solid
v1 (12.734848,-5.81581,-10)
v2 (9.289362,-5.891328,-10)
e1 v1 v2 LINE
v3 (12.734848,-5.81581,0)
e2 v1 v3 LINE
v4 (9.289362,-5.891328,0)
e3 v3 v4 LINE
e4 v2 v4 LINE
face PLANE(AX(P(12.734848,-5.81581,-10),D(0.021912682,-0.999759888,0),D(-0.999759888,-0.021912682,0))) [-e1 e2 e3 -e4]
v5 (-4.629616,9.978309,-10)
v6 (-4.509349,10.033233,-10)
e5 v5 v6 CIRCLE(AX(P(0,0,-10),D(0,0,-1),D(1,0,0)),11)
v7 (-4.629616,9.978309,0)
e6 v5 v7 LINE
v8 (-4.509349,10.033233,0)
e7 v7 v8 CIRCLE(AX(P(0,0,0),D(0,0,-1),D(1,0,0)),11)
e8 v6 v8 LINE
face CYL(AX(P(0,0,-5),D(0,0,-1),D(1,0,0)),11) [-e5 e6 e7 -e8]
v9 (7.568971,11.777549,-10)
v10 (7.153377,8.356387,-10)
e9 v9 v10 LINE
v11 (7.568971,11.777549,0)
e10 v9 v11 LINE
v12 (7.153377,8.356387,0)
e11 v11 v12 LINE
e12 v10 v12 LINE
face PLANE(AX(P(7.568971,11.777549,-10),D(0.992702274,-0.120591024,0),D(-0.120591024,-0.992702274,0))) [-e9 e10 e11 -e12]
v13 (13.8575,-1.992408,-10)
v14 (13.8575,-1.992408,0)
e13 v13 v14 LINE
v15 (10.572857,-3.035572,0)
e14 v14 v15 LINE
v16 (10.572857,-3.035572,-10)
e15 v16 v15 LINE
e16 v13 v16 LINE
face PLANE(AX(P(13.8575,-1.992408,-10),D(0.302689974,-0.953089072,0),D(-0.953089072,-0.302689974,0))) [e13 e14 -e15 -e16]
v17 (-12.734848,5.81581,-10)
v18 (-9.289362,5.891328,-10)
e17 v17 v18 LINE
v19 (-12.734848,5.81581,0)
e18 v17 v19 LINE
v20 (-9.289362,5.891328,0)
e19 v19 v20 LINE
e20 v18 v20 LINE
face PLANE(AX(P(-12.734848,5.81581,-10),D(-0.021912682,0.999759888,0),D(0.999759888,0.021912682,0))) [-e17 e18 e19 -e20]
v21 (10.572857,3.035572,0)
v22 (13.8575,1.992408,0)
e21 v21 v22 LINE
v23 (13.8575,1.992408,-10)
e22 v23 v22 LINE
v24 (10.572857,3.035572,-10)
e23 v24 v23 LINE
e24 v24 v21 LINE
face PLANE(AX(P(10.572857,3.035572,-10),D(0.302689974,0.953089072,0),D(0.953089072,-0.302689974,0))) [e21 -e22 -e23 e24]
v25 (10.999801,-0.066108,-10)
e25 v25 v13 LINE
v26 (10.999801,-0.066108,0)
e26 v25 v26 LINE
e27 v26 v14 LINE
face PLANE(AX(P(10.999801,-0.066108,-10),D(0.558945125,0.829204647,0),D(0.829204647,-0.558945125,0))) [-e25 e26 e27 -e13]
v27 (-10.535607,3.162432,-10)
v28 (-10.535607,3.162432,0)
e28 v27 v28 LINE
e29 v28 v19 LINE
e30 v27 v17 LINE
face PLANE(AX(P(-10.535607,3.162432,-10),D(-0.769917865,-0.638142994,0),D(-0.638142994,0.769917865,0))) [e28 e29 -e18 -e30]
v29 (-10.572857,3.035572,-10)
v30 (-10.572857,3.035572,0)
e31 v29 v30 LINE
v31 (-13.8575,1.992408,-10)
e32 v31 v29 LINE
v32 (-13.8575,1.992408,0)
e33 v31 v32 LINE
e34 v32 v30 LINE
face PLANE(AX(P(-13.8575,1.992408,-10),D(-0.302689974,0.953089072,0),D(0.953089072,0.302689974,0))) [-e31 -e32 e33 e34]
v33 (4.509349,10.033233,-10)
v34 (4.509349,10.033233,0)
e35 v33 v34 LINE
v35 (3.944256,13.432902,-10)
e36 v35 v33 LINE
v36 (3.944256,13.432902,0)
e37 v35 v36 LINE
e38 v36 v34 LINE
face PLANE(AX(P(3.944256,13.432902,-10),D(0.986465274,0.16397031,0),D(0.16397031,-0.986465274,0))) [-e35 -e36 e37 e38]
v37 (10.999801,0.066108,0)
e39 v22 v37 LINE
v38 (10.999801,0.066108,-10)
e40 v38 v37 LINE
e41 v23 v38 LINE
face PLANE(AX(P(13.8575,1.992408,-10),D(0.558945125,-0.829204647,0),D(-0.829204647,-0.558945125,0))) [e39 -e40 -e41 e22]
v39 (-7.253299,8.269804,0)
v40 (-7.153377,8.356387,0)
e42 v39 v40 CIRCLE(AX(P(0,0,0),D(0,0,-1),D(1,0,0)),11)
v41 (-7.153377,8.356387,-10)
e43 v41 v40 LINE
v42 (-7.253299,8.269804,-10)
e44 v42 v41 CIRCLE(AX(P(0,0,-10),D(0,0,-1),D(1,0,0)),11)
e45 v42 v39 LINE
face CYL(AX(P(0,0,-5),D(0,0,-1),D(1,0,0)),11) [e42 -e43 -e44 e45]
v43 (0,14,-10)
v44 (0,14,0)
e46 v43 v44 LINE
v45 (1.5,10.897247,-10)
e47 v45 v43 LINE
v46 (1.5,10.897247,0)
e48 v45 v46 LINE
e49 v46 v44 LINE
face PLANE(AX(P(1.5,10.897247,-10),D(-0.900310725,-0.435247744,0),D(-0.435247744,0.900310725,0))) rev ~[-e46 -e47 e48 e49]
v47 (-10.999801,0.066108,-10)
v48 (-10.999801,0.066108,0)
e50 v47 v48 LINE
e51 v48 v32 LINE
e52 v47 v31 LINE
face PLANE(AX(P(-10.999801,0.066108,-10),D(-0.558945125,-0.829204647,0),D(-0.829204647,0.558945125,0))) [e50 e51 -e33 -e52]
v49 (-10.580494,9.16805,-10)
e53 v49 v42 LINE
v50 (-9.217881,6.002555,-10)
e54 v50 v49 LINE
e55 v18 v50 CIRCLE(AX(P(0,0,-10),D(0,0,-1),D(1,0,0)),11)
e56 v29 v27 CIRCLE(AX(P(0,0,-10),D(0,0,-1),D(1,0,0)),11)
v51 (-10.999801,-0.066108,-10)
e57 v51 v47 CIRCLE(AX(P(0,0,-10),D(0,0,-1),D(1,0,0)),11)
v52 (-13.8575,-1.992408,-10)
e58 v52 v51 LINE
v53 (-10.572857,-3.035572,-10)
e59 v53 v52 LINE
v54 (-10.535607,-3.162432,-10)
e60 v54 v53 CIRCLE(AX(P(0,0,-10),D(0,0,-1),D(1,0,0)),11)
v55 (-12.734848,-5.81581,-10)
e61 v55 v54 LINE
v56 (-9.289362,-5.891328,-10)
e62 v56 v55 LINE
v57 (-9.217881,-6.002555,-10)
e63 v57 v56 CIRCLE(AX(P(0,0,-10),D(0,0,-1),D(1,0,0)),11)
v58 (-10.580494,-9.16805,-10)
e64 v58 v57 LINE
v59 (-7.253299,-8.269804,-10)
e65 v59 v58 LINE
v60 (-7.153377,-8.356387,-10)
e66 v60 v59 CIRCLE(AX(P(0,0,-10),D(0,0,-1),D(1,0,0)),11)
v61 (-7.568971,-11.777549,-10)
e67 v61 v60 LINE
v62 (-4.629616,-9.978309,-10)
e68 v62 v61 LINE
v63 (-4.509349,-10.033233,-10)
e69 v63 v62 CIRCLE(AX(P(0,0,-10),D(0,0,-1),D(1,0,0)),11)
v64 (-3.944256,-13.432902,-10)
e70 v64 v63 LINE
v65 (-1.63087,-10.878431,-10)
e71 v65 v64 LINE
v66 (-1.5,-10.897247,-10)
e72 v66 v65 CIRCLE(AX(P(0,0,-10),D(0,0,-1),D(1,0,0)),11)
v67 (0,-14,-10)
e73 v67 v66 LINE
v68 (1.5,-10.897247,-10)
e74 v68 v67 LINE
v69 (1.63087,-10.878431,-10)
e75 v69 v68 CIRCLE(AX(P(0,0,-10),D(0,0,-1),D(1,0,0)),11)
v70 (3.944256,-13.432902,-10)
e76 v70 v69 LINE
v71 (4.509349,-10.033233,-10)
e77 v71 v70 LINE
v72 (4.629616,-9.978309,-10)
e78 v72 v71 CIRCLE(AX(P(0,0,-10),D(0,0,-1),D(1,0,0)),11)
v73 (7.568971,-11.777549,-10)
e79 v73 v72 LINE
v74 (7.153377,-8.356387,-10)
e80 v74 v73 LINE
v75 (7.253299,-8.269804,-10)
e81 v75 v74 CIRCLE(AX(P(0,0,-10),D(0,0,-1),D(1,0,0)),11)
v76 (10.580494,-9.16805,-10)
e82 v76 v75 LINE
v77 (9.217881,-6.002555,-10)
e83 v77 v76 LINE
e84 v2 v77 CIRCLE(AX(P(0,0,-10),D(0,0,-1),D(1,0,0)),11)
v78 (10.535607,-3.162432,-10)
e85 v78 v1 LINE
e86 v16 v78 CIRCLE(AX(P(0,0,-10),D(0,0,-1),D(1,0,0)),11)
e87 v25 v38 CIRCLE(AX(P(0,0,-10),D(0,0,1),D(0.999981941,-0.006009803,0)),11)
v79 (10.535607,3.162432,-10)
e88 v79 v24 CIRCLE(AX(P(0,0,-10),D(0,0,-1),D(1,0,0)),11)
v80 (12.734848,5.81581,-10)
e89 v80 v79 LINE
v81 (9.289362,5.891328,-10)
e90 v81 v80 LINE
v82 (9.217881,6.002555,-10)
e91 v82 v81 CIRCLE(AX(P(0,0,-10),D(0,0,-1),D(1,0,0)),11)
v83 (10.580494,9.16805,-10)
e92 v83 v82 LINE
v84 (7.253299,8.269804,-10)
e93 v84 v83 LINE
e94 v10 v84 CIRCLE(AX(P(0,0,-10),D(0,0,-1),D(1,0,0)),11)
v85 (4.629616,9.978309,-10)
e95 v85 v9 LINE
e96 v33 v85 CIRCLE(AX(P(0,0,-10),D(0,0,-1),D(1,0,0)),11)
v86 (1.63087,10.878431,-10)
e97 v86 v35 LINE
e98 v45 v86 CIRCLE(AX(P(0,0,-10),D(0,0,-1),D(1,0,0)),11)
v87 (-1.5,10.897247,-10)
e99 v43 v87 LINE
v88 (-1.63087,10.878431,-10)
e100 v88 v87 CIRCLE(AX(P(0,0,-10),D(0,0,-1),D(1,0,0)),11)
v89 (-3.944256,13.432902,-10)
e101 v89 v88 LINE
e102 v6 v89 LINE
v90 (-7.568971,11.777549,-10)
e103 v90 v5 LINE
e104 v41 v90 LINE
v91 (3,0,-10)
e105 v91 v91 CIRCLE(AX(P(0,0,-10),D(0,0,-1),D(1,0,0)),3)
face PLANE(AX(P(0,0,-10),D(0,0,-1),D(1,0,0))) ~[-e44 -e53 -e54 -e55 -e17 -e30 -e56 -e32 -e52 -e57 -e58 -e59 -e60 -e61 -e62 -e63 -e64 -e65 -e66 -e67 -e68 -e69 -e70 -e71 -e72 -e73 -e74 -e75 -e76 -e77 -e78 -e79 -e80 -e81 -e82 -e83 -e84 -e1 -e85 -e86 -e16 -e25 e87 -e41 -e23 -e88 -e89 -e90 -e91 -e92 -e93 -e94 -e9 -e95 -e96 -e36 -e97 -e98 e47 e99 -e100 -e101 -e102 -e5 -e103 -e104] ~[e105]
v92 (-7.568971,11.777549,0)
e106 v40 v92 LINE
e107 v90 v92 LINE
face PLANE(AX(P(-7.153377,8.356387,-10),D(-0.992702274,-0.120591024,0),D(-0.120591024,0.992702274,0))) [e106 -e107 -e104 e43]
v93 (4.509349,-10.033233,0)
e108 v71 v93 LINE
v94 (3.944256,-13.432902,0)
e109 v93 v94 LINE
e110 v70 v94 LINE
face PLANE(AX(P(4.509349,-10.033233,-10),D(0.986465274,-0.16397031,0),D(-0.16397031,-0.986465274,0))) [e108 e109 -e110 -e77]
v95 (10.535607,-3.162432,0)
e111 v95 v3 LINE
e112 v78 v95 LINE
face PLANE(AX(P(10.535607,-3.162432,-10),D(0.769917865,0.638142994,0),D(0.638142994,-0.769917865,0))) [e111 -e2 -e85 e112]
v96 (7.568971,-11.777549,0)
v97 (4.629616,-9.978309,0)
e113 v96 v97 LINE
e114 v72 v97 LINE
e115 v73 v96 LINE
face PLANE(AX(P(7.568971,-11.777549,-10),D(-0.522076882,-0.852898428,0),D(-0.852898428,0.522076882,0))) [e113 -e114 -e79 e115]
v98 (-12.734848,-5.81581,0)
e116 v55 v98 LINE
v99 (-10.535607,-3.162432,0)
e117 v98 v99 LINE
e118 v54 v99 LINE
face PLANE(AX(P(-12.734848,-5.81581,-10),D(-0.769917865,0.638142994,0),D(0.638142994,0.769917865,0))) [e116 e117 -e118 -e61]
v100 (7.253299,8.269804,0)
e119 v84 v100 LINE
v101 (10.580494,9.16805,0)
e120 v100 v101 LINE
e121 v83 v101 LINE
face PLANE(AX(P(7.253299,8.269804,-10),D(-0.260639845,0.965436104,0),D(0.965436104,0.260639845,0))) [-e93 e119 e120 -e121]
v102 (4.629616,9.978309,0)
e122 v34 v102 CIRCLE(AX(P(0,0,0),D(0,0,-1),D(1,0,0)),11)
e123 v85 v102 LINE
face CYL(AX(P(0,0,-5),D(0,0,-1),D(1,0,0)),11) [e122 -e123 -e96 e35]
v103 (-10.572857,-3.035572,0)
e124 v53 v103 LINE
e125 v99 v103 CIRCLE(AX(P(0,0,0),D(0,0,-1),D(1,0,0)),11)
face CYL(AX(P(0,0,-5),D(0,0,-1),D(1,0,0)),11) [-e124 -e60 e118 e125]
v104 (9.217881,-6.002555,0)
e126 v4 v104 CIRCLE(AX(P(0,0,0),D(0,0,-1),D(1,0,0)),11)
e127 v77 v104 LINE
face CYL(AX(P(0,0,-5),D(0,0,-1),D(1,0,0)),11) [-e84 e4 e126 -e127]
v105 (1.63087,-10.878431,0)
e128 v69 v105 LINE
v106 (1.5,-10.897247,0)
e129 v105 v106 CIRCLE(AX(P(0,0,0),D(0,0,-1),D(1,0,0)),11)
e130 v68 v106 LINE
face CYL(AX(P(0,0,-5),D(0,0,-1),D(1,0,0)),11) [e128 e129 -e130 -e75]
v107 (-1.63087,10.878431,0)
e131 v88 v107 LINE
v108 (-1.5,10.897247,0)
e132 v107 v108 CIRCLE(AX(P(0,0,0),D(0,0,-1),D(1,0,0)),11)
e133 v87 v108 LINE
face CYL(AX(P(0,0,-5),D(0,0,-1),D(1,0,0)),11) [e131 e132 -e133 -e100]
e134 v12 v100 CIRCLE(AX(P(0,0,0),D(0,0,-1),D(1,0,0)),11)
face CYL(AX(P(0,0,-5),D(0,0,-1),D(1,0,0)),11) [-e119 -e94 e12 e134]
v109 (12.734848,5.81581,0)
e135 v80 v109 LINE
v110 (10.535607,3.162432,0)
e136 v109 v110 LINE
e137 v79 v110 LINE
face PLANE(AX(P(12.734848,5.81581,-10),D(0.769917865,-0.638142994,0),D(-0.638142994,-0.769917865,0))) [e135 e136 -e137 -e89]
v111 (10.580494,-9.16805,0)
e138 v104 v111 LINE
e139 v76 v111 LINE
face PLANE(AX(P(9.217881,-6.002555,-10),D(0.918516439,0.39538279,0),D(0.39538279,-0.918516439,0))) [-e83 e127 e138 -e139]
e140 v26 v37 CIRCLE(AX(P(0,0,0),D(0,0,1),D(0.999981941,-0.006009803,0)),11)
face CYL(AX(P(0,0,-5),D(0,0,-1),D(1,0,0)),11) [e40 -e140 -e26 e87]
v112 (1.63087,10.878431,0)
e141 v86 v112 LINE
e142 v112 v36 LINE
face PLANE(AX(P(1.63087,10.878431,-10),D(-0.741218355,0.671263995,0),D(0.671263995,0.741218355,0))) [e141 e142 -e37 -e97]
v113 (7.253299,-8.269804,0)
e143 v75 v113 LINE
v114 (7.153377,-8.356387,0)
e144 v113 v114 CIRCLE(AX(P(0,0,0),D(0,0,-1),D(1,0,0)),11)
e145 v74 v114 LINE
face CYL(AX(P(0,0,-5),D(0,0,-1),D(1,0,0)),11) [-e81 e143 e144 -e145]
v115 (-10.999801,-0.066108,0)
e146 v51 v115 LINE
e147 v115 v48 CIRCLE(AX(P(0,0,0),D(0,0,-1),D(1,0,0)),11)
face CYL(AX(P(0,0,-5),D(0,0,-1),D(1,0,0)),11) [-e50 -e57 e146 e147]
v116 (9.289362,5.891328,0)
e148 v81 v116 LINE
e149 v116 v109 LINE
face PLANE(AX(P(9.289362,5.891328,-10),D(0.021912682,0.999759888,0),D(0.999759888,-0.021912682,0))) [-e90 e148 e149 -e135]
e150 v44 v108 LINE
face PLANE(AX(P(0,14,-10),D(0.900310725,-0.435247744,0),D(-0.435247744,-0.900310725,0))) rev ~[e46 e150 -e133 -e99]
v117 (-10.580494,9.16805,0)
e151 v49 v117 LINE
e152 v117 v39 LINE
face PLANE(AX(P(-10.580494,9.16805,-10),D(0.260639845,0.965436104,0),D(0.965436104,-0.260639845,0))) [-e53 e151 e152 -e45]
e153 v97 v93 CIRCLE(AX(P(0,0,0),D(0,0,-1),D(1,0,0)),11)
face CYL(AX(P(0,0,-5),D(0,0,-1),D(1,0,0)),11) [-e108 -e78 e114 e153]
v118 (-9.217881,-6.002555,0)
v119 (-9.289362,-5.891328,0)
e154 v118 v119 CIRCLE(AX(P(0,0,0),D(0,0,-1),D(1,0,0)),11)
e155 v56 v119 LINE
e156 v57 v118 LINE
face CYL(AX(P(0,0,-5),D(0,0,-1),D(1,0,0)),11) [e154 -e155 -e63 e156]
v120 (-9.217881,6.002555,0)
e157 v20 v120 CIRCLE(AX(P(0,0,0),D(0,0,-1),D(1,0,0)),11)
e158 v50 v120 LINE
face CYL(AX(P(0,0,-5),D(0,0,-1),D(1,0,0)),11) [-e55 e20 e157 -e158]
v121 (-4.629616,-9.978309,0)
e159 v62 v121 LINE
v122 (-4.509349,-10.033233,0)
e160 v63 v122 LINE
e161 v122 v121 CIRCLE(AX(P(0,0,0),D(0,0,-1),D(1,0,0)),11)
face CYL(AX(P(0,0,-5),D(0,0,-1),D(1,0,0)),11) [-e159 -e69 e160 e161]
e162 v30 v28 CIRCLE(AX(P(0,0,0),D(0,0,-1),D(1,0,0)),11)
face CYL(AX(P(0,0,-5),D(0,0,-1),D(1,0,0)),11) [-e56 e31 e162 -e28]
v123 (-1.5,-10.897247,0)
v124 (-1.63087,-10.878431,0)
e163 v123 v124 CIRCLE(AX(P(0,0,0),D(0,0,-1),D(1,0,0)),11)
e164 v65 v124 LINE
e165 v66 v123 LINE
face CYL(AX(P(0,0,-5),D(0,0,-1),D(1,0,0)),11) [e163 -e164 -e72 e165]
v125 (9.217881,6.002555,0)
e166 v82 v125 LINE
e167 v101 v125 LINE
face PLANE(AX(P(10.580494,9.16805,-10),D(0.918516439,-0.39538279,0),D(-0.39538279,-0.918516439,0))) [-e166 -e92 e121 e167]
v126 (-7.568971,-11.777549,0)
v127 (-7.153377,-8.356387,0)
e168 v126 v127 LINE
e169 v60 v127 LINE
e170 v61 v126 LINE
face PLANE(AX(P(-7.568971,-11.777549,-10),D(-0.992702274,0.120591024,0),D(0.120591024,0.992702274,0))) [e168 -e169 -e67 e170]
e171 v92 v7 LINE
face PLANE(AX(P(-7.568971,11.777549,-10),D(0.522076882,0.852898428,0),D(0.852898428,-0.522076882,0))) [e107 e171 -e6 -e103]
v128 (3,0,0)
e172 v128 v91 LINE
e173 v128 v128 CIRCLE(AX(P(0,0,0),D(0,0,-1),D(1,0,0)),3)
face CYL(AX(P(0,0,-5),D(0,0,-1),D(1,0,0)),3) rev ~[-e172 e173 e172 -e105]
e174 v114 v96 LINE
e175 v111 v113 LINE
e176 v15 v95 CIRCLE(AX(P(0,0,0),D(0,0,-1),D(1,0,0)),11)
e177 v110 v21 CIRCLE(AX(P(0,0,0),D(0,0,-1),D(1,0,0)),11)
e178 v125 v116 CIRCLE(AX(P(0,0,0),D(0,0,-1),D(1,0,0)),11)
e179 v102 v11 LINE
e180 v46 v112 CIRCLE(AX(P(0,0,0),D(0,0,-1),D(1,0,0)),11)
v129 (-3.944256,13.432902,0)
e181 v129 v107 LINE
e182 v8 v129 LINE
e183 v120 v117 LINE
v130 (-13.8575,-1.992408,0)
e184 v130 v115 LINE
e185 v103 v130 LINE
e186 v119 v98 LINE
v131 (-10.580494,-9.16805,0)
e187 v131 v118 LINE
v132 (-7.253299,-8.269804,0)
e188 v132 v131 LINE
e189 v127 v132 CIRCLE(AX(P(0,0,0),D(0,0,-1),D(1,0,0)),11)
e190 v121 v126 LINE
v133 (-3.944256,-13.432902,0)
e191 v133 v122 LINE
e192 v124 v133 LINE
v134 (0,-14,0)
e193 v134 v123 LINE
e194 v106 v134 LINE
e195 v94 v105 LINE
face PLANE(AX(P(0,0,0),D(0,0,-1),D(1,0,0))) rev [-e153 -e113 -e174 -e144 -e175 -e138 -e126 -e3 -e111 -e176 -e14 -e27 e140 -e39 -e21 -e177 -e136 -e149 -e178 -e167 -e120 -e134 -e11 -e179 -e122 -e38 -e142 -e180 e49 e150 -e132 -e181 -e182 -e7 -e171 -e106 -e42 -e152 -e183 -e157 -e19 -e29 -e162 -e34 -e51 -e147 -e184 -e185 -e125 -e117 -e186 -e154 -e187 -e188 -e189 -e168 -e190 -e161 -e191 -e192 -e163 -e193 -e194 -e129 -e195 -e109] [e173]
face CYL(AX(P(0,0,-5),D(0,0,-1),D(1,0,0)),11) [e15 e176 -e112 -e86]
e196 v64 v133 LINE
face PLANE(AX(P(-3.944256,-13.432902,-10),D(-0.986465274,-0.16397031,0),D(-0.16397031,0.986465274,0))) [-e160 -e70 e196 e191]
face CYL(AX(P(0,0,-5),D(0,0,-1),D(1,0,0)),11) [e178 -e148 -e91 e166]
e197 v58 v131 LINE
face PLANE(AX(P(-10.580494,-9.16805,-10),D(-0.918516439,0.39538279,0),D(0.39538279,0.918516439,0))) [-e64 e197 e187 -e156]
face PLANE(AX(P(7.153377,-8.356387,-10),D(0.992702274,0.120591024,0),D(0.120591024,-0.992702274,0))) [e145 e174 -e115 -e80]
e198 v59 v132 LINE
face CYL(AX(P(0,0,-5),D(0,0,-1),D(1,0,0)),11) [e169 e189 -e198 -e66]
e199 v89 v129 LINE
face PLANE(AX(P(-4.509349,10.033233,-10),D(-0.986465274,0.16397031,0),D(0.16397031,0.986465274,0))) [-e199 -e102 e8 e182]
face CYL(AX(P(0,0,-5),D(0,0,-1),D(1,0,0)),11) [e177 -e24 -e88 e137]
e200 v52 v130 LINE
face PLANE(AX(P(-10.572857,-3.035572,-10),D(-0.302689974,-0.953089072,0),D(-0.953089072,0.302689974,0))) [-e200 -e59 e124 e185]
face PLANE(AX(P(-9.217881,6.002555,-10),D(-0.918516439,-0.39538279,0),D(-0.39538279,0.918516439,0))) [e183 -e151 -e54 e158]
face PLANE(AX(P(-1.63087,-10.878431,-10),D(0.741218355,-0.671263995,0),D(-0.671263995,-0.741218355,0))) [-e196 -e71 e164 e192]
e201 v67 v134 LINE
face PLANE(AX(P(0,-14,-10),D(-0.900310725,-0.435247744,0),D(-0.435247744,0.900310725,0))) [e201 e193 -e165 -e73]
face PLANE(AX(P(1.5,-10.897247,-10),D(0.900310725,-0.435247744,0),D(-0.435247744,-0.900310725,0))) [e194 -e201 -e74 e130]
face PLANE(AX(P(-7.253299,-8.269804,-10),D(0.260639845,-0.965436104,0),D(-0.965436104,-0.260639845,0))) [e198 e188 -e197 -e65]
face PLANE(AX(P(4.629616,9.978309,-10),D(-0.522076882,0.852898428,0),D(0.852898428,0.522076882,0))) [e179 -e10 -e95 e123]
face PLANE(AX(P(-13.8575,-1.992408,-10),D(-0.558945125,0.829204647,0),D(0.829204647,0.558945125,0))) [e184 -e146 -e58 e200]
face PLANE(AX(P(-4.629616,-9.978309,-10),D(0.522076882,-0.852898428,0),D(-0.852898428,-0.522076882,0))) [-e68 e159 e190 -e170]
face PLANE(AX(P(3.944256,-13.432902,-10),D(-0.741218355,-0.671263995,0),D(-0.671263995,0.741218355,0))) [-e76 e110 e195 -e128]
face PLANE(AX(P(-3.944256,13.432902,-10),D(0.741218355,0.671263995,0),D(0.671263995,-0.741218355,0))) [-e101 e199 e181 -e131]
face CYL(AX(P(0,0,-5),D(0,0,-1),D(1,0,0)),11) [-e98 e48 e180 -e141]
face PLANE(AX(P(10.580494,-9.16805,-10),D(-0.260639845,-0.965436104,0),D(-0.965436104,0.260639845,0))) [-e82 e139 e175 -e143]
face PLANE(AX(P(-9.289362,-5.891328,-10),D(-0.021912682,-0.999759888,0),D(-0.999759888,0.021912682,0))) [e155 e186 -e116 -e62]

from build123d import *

# Parameters (mm, degrees)
ESQUISSE2_W        = 10
ESQUISSE2_H        = 8
BOSS_EXTRU_1_START = -10
BOSS_EXTRU_1_DEPTH = 10


with BuildPart() as part:
    # Esquisse2 → Révolution1 (revolve)
    with BuildSketch(Plane(origin=(0, 0, 0), x_dir=(0, 0, -1), z_dir=(1, 0, 0)), mode=Mode.PRIVATE) as r_volution1_sk:
        with Locations((5, 7)):
            Rectangle(ESQUISSE2_W, ESQUISSE2_H)
    revolve(r_volution1_sk.sketch.rotate(Axis((0, 0, 0), (0, 0, -1)), 90), axis=Axis((0, 0, 0), (0, 0, -1)))

    # Esquisse3 → Boss.-Extru.1 (add)
    with BuildSketch(Plane.XY.offset(BOSS_EXTRU_1_START)):
        with BuildLine():
            Line((0, 14), (-1.5, 10.897247359))
            ThreePointArc((-1.5, 10.897247359), (-0.751757625, 10.974281775), (0, 11))
            ThreePointArc((0, 11), (0.751757625, 10.974281775), (1.5, 10.897247359))
            Line((1.5, 10.897247359), (0, 14))
        make_face()
        with BuildLine():
            Line((3.944255796, 13.432901631), (4.509348821, 10.033233437))
            ThreePointArc((4.509348821, 10.033233437), (3.813118623, 10.317951656), (3.099058125, 10.55442271))
            ThreePointArc((3.099058125, 10.55442271), (2.370506305, 10.741540851), (1.630869901, 10.878431108))
            Line((1.630869901, 10.878431108), (3.944255796, 13.432901631))
        make_face()
        with BuildLine():
            Line((7.568971444, 11.77754946), (7.153377019, 8.356386613))
            ThreePointArc((7.153377019, 8.356386613), (6.565563427, 8.825722457), (5.947048992, 9.253788861))
            ThreePointArc((5.947048992, 9.253788861), (5.300725912, 9.63858417), (4.629616421, 9.978309065))
            Line((4.629616421, 9.978309065), (7.568971444, 11.77754946))
        make_face()
        with BuildLine():
            Line((10.580494041, 9.168050275), (9.217881154, 6.002555042))
            ThreePointArc((9.217881154, 6.002555042), (8.78610533, 6.618485713), (8.313245318, 7.203468073))
            ThreePointArc((8.313245318, 7.203468073), (7.80151223, 7.754766722), (7.253298952, 8.269803765))
            Line((7.253298952, 8.269803765), (10.580494041, 9.168050275))
        make_face()
        with BuildLine():
            Line((12.734847935, 5.815810182), (10.535607378, 3.16243216))
            ThreePointArc((10.535607378, 3.16243216), (10.294849232, 3.875058618), (10.005951949, 4.569565143))
            ThreePointArc((10.005951949, 4.569565143), (9.670266425, 5.242704194), (9.289362339, 5.891328146))
            Line((9.289362339, 5.891328146), (12.734847935, 5.815810182))
        make_face()
        with BuildLine():
            Line((13.857500186, 1.992407736), (10.999801351, 0.066107833))
            ThreePointArc((10.999801351, 0.066107833), (10.969565675, 0.81769732), (10.888035861, 1.565463221))
            ThreePointArc((10.888035861, 1.565463221), (10.755593145, 2.305908952), (10.572856836, 3.035572158))
            Line((10.572856836, 3.035572158), (13.857500186, 1.992407736))
        make_face()
        with BuildLine():
            Line((13.857500186, -1.992407736), (10.572856836, -3.035572158))
            ThreePointArc((10.572856836, -3.035572158), (10.755593145, -2.305908952), (10.888035861, -1.565463221))
            ThreePointArc((10.888035861, -1.565463221), (10.969565675, -0.81769732), (10.999801351, -0.066107833))
            Line((10.999801351, -0.066107833), (13.857500186, -1.992407736))
        make_face()
        with BuildLine():
            Line((12.734847935, -5.815810182), (9.289362339, -5.891328146))
            ThreePointArc((9.289362339, -5.891328146), (9.670266425, -5.242704194), (10.005951949, -4.569565143))
            ThreePointArc((10.005951949, -4.569565143), (10.294849232, -3.875058618), (10.535607378, -3.16243216))
            Line((10.535607378, -3.16243216), (12.734847935, -5.815810182))
        make_face()
        with BuildLine():
            Line((10.580494041, -9.168050275), (7.253298952, -8.269803765))
            ThreePointArc((7.253298952, -8.269803765), (7.80151223, -7.754766722), (8.313245318, -7.203468073))
            ThreePointArc((8.313245318, -7.203468073), (8.78610533, -6.618485713), (9.217881154, -6.002555042))
            Line((9.217881154, -6.002555042), (10.580494041, -9.168050275))
        make_face()
        with BuildLine():
            Line((7.568971444, -11.77754946), (4.629616421, -9.978309065))
            ThreePointArc((4.629616421, -9.978309065), (5.300725912, -9.63858417), (5.947048992, -9.253788861))
            ThreePointArc((5.947048992, -9.253788861), (6.565563427, -8.825722457), (7.153377019, -8.356386613))
            Line((7.153377019, -8.356386613), (7.568971444, -11.77754946))
        make_face()
        with BuildLine():
            Line((3.944255796, -13.432901631), (1.630869901, -10.878431108))
            ThreePointArc((1.630869901, -10.878431108), (2.370506305, -10.741540851), (3.099058125, -10.55442271))
            ThreePointArc((3.099058125, -10.55442271), (3.813118623, -10.317951656), (4.509348821, -10.033233437))
            Line((4.509348821, -10.033233437), (3.944255796, -13.432901631))
        make_face()
        with BuildLine():
            Line((0, -14), (-1.5, -10.897247359))
            ThreePointArc((-1.5, -10.897247359), (-0.751757625, -10.974281775), (0, -11))
            ThreePointArc((0, -11), (0.751757625, -10.974281775), (1.5, -10.897247359))
            Line((1.5, -10.897247359), (0, -14))
        make_face()
        with BuildLine():
            Line((-3.944255796, -13.432901631), (-4.509348821, -10.033233437))
            ThreePointArc((-4.509348821, -10.033233437), (-3.813118623, -10.317951656), (-3.099058125, -10.55442271))
            ThreePointArc((-3.099058125, -10.55442271), (-2.370506305, -10.741540851), (-1.630869901, -10.878431108))
            Line((-1.630869901, -10.878431108), (-3.944255796, -13.432901631))
        make_face()
        with BuildLine():
            Line((-7.568971444, -11.77754946), (-7.153377019, -8.356386613))
            ThreePointArc((-7.153377019, -8.356386613), (-6.565563427, -8.825722457), (-5.947048992, -9.253788861))
            ThreePointArc((-5.947048992, -9.253788861), (-5.300725912, -9.63858417), (-4.629616421, -9.978309065))
            Line((-4.629616421, -9.978309065), (-7.568971444, -11.77754946))
        make_face()
        with BuildLine():
            Line((-10.580494041, -9.168050275), (-9.217881154, -6.002555042))
            ThreePointArc((-9.217881154, -6.002555042), (-8.78610533, -6.618485713), (-8.313245318, -7.203468073))
            ThreePointArc((-8.313245318, -7.203468073), (-7.80151223, -7.754766722), (-7.253298952, -8.269803765))
            Line((-7.253298952, -8.269803765), (-10.580494041, -9.168050275))
        make_face()
        with BuildLine():
            Line((-12.734847935, -5.815810182), (-10.535607378, -3.16243216))
            ThreePointArc((-10.535607378, -3.16243216), (-10.294849232, -3.875058618), (-10.005951949, -4.569565143))
            ThreePointArc((-10.005951949, -4.569565143), (-9.670266425, -5.242704194), (-9.289362339, -5.891328146))
            Line((-9.289362339, -5.891328146), (-12.734847935, -5.815810182))
        make_face()
        with BuildLine():
            Line((-13.857500186, -1.992407736), (-10.999801351, -0.066107833))
            ThreePointArc((-10.999801351, -0.066107833), (-10.969565675, -0.81769732), (-10.888035861, -1.565463221))
            ThreePointArc((-10.888035861, -1.565463221), (-10.755593145, -2.305908952), (-10.572856836, -3.035572158))
            Line((-10.572856836, -3.035572158), (-13.857500186, -1.992407736))
        make_face()
        with BuildLine():
            Line((-13.857500186, 1.992407736), (-10.572856836, 3.035572158))
            ThreePointArc((-10.572856836, 3.035572158), (-10.755593145, 2.305908952), (-10.888035861, 1.565463221))
            ThreePointArc((-10.888035861, 1.565463221), (-10.969565675, 0.81769732), (-10.999801351, 0.066107833))
            Line((-10.999801351, 0.066107833), (-13.857500186, 1.992407736))
        make_face()
        with BuildLine():
            Line((-12.734847935, 5.815810182), (-9.289362339, 5.891328146))
            ThreePointArc((-9.289362339, 5.891328146), (-9.670266425, 5.242704194), (-10.005951949, 4.569565143))
            ThreePointArc((-10.005951949, 4.569565143), (-10.294849232, 3.875058618), (-10.535607378, 3.16243216))
            Line((-10.535607378, 3.16243216), (-12.734847935, 5.815810182))
        make_face()
        with BuildLine():
            Line((-10.580494041, 9.168050275), (-7.253298952, 8.269803765))
            ThreePointArc((-7.253298952, 8.269803765), (-7.80151223, 7.754766722), (-8.313245318, 7.203468073))
            ThreePointArc((-8.313245318, 7.203468073), (-8.78610533, 6.618485713), (-9.217881154, 6.002555042))
            Line((-9.217881154, 6.002555042), (-10.580494041, 9.168050275))
        make_face()
        with BuildLine():
            Line((-7.568971444, 11.77754946), (-4.629616421, 9.978309065))
            ThreePointArc((-4.629616421, 9.978309065), (-5.300725912, 9.63858417), (-5.947048992, 9.253788861))
            ThreePointArc((-5.947048992, 9.253788861), (-6.565563427, 8.825722457), (-7.153377019, 8.356386613))
            Line((-7.153377019, 8.356386613), (-7.568971444, 11.77754946))
        make_face()
        with BuildLine():
            Line((-3.944255796, 13.432901631), (-1.630869901, 10.878431108))
            ThreePointArc((-1.630869901, 10.878431108), (-2.370506305, 10.741540851), (-3.099058125, 10.55442271))
            ThreePointArc((-3.099058125, 10.55442271), (-3.813118623, 10.317951656), (-4.509348821, 10.033233437))
            Line((-4.509348821, 10.033233437), (-3.944255796, 13.432901631))
        make_face()
    extrude(amount=BOSS_EXTRU_1_DEPTH)


solid = part.part
